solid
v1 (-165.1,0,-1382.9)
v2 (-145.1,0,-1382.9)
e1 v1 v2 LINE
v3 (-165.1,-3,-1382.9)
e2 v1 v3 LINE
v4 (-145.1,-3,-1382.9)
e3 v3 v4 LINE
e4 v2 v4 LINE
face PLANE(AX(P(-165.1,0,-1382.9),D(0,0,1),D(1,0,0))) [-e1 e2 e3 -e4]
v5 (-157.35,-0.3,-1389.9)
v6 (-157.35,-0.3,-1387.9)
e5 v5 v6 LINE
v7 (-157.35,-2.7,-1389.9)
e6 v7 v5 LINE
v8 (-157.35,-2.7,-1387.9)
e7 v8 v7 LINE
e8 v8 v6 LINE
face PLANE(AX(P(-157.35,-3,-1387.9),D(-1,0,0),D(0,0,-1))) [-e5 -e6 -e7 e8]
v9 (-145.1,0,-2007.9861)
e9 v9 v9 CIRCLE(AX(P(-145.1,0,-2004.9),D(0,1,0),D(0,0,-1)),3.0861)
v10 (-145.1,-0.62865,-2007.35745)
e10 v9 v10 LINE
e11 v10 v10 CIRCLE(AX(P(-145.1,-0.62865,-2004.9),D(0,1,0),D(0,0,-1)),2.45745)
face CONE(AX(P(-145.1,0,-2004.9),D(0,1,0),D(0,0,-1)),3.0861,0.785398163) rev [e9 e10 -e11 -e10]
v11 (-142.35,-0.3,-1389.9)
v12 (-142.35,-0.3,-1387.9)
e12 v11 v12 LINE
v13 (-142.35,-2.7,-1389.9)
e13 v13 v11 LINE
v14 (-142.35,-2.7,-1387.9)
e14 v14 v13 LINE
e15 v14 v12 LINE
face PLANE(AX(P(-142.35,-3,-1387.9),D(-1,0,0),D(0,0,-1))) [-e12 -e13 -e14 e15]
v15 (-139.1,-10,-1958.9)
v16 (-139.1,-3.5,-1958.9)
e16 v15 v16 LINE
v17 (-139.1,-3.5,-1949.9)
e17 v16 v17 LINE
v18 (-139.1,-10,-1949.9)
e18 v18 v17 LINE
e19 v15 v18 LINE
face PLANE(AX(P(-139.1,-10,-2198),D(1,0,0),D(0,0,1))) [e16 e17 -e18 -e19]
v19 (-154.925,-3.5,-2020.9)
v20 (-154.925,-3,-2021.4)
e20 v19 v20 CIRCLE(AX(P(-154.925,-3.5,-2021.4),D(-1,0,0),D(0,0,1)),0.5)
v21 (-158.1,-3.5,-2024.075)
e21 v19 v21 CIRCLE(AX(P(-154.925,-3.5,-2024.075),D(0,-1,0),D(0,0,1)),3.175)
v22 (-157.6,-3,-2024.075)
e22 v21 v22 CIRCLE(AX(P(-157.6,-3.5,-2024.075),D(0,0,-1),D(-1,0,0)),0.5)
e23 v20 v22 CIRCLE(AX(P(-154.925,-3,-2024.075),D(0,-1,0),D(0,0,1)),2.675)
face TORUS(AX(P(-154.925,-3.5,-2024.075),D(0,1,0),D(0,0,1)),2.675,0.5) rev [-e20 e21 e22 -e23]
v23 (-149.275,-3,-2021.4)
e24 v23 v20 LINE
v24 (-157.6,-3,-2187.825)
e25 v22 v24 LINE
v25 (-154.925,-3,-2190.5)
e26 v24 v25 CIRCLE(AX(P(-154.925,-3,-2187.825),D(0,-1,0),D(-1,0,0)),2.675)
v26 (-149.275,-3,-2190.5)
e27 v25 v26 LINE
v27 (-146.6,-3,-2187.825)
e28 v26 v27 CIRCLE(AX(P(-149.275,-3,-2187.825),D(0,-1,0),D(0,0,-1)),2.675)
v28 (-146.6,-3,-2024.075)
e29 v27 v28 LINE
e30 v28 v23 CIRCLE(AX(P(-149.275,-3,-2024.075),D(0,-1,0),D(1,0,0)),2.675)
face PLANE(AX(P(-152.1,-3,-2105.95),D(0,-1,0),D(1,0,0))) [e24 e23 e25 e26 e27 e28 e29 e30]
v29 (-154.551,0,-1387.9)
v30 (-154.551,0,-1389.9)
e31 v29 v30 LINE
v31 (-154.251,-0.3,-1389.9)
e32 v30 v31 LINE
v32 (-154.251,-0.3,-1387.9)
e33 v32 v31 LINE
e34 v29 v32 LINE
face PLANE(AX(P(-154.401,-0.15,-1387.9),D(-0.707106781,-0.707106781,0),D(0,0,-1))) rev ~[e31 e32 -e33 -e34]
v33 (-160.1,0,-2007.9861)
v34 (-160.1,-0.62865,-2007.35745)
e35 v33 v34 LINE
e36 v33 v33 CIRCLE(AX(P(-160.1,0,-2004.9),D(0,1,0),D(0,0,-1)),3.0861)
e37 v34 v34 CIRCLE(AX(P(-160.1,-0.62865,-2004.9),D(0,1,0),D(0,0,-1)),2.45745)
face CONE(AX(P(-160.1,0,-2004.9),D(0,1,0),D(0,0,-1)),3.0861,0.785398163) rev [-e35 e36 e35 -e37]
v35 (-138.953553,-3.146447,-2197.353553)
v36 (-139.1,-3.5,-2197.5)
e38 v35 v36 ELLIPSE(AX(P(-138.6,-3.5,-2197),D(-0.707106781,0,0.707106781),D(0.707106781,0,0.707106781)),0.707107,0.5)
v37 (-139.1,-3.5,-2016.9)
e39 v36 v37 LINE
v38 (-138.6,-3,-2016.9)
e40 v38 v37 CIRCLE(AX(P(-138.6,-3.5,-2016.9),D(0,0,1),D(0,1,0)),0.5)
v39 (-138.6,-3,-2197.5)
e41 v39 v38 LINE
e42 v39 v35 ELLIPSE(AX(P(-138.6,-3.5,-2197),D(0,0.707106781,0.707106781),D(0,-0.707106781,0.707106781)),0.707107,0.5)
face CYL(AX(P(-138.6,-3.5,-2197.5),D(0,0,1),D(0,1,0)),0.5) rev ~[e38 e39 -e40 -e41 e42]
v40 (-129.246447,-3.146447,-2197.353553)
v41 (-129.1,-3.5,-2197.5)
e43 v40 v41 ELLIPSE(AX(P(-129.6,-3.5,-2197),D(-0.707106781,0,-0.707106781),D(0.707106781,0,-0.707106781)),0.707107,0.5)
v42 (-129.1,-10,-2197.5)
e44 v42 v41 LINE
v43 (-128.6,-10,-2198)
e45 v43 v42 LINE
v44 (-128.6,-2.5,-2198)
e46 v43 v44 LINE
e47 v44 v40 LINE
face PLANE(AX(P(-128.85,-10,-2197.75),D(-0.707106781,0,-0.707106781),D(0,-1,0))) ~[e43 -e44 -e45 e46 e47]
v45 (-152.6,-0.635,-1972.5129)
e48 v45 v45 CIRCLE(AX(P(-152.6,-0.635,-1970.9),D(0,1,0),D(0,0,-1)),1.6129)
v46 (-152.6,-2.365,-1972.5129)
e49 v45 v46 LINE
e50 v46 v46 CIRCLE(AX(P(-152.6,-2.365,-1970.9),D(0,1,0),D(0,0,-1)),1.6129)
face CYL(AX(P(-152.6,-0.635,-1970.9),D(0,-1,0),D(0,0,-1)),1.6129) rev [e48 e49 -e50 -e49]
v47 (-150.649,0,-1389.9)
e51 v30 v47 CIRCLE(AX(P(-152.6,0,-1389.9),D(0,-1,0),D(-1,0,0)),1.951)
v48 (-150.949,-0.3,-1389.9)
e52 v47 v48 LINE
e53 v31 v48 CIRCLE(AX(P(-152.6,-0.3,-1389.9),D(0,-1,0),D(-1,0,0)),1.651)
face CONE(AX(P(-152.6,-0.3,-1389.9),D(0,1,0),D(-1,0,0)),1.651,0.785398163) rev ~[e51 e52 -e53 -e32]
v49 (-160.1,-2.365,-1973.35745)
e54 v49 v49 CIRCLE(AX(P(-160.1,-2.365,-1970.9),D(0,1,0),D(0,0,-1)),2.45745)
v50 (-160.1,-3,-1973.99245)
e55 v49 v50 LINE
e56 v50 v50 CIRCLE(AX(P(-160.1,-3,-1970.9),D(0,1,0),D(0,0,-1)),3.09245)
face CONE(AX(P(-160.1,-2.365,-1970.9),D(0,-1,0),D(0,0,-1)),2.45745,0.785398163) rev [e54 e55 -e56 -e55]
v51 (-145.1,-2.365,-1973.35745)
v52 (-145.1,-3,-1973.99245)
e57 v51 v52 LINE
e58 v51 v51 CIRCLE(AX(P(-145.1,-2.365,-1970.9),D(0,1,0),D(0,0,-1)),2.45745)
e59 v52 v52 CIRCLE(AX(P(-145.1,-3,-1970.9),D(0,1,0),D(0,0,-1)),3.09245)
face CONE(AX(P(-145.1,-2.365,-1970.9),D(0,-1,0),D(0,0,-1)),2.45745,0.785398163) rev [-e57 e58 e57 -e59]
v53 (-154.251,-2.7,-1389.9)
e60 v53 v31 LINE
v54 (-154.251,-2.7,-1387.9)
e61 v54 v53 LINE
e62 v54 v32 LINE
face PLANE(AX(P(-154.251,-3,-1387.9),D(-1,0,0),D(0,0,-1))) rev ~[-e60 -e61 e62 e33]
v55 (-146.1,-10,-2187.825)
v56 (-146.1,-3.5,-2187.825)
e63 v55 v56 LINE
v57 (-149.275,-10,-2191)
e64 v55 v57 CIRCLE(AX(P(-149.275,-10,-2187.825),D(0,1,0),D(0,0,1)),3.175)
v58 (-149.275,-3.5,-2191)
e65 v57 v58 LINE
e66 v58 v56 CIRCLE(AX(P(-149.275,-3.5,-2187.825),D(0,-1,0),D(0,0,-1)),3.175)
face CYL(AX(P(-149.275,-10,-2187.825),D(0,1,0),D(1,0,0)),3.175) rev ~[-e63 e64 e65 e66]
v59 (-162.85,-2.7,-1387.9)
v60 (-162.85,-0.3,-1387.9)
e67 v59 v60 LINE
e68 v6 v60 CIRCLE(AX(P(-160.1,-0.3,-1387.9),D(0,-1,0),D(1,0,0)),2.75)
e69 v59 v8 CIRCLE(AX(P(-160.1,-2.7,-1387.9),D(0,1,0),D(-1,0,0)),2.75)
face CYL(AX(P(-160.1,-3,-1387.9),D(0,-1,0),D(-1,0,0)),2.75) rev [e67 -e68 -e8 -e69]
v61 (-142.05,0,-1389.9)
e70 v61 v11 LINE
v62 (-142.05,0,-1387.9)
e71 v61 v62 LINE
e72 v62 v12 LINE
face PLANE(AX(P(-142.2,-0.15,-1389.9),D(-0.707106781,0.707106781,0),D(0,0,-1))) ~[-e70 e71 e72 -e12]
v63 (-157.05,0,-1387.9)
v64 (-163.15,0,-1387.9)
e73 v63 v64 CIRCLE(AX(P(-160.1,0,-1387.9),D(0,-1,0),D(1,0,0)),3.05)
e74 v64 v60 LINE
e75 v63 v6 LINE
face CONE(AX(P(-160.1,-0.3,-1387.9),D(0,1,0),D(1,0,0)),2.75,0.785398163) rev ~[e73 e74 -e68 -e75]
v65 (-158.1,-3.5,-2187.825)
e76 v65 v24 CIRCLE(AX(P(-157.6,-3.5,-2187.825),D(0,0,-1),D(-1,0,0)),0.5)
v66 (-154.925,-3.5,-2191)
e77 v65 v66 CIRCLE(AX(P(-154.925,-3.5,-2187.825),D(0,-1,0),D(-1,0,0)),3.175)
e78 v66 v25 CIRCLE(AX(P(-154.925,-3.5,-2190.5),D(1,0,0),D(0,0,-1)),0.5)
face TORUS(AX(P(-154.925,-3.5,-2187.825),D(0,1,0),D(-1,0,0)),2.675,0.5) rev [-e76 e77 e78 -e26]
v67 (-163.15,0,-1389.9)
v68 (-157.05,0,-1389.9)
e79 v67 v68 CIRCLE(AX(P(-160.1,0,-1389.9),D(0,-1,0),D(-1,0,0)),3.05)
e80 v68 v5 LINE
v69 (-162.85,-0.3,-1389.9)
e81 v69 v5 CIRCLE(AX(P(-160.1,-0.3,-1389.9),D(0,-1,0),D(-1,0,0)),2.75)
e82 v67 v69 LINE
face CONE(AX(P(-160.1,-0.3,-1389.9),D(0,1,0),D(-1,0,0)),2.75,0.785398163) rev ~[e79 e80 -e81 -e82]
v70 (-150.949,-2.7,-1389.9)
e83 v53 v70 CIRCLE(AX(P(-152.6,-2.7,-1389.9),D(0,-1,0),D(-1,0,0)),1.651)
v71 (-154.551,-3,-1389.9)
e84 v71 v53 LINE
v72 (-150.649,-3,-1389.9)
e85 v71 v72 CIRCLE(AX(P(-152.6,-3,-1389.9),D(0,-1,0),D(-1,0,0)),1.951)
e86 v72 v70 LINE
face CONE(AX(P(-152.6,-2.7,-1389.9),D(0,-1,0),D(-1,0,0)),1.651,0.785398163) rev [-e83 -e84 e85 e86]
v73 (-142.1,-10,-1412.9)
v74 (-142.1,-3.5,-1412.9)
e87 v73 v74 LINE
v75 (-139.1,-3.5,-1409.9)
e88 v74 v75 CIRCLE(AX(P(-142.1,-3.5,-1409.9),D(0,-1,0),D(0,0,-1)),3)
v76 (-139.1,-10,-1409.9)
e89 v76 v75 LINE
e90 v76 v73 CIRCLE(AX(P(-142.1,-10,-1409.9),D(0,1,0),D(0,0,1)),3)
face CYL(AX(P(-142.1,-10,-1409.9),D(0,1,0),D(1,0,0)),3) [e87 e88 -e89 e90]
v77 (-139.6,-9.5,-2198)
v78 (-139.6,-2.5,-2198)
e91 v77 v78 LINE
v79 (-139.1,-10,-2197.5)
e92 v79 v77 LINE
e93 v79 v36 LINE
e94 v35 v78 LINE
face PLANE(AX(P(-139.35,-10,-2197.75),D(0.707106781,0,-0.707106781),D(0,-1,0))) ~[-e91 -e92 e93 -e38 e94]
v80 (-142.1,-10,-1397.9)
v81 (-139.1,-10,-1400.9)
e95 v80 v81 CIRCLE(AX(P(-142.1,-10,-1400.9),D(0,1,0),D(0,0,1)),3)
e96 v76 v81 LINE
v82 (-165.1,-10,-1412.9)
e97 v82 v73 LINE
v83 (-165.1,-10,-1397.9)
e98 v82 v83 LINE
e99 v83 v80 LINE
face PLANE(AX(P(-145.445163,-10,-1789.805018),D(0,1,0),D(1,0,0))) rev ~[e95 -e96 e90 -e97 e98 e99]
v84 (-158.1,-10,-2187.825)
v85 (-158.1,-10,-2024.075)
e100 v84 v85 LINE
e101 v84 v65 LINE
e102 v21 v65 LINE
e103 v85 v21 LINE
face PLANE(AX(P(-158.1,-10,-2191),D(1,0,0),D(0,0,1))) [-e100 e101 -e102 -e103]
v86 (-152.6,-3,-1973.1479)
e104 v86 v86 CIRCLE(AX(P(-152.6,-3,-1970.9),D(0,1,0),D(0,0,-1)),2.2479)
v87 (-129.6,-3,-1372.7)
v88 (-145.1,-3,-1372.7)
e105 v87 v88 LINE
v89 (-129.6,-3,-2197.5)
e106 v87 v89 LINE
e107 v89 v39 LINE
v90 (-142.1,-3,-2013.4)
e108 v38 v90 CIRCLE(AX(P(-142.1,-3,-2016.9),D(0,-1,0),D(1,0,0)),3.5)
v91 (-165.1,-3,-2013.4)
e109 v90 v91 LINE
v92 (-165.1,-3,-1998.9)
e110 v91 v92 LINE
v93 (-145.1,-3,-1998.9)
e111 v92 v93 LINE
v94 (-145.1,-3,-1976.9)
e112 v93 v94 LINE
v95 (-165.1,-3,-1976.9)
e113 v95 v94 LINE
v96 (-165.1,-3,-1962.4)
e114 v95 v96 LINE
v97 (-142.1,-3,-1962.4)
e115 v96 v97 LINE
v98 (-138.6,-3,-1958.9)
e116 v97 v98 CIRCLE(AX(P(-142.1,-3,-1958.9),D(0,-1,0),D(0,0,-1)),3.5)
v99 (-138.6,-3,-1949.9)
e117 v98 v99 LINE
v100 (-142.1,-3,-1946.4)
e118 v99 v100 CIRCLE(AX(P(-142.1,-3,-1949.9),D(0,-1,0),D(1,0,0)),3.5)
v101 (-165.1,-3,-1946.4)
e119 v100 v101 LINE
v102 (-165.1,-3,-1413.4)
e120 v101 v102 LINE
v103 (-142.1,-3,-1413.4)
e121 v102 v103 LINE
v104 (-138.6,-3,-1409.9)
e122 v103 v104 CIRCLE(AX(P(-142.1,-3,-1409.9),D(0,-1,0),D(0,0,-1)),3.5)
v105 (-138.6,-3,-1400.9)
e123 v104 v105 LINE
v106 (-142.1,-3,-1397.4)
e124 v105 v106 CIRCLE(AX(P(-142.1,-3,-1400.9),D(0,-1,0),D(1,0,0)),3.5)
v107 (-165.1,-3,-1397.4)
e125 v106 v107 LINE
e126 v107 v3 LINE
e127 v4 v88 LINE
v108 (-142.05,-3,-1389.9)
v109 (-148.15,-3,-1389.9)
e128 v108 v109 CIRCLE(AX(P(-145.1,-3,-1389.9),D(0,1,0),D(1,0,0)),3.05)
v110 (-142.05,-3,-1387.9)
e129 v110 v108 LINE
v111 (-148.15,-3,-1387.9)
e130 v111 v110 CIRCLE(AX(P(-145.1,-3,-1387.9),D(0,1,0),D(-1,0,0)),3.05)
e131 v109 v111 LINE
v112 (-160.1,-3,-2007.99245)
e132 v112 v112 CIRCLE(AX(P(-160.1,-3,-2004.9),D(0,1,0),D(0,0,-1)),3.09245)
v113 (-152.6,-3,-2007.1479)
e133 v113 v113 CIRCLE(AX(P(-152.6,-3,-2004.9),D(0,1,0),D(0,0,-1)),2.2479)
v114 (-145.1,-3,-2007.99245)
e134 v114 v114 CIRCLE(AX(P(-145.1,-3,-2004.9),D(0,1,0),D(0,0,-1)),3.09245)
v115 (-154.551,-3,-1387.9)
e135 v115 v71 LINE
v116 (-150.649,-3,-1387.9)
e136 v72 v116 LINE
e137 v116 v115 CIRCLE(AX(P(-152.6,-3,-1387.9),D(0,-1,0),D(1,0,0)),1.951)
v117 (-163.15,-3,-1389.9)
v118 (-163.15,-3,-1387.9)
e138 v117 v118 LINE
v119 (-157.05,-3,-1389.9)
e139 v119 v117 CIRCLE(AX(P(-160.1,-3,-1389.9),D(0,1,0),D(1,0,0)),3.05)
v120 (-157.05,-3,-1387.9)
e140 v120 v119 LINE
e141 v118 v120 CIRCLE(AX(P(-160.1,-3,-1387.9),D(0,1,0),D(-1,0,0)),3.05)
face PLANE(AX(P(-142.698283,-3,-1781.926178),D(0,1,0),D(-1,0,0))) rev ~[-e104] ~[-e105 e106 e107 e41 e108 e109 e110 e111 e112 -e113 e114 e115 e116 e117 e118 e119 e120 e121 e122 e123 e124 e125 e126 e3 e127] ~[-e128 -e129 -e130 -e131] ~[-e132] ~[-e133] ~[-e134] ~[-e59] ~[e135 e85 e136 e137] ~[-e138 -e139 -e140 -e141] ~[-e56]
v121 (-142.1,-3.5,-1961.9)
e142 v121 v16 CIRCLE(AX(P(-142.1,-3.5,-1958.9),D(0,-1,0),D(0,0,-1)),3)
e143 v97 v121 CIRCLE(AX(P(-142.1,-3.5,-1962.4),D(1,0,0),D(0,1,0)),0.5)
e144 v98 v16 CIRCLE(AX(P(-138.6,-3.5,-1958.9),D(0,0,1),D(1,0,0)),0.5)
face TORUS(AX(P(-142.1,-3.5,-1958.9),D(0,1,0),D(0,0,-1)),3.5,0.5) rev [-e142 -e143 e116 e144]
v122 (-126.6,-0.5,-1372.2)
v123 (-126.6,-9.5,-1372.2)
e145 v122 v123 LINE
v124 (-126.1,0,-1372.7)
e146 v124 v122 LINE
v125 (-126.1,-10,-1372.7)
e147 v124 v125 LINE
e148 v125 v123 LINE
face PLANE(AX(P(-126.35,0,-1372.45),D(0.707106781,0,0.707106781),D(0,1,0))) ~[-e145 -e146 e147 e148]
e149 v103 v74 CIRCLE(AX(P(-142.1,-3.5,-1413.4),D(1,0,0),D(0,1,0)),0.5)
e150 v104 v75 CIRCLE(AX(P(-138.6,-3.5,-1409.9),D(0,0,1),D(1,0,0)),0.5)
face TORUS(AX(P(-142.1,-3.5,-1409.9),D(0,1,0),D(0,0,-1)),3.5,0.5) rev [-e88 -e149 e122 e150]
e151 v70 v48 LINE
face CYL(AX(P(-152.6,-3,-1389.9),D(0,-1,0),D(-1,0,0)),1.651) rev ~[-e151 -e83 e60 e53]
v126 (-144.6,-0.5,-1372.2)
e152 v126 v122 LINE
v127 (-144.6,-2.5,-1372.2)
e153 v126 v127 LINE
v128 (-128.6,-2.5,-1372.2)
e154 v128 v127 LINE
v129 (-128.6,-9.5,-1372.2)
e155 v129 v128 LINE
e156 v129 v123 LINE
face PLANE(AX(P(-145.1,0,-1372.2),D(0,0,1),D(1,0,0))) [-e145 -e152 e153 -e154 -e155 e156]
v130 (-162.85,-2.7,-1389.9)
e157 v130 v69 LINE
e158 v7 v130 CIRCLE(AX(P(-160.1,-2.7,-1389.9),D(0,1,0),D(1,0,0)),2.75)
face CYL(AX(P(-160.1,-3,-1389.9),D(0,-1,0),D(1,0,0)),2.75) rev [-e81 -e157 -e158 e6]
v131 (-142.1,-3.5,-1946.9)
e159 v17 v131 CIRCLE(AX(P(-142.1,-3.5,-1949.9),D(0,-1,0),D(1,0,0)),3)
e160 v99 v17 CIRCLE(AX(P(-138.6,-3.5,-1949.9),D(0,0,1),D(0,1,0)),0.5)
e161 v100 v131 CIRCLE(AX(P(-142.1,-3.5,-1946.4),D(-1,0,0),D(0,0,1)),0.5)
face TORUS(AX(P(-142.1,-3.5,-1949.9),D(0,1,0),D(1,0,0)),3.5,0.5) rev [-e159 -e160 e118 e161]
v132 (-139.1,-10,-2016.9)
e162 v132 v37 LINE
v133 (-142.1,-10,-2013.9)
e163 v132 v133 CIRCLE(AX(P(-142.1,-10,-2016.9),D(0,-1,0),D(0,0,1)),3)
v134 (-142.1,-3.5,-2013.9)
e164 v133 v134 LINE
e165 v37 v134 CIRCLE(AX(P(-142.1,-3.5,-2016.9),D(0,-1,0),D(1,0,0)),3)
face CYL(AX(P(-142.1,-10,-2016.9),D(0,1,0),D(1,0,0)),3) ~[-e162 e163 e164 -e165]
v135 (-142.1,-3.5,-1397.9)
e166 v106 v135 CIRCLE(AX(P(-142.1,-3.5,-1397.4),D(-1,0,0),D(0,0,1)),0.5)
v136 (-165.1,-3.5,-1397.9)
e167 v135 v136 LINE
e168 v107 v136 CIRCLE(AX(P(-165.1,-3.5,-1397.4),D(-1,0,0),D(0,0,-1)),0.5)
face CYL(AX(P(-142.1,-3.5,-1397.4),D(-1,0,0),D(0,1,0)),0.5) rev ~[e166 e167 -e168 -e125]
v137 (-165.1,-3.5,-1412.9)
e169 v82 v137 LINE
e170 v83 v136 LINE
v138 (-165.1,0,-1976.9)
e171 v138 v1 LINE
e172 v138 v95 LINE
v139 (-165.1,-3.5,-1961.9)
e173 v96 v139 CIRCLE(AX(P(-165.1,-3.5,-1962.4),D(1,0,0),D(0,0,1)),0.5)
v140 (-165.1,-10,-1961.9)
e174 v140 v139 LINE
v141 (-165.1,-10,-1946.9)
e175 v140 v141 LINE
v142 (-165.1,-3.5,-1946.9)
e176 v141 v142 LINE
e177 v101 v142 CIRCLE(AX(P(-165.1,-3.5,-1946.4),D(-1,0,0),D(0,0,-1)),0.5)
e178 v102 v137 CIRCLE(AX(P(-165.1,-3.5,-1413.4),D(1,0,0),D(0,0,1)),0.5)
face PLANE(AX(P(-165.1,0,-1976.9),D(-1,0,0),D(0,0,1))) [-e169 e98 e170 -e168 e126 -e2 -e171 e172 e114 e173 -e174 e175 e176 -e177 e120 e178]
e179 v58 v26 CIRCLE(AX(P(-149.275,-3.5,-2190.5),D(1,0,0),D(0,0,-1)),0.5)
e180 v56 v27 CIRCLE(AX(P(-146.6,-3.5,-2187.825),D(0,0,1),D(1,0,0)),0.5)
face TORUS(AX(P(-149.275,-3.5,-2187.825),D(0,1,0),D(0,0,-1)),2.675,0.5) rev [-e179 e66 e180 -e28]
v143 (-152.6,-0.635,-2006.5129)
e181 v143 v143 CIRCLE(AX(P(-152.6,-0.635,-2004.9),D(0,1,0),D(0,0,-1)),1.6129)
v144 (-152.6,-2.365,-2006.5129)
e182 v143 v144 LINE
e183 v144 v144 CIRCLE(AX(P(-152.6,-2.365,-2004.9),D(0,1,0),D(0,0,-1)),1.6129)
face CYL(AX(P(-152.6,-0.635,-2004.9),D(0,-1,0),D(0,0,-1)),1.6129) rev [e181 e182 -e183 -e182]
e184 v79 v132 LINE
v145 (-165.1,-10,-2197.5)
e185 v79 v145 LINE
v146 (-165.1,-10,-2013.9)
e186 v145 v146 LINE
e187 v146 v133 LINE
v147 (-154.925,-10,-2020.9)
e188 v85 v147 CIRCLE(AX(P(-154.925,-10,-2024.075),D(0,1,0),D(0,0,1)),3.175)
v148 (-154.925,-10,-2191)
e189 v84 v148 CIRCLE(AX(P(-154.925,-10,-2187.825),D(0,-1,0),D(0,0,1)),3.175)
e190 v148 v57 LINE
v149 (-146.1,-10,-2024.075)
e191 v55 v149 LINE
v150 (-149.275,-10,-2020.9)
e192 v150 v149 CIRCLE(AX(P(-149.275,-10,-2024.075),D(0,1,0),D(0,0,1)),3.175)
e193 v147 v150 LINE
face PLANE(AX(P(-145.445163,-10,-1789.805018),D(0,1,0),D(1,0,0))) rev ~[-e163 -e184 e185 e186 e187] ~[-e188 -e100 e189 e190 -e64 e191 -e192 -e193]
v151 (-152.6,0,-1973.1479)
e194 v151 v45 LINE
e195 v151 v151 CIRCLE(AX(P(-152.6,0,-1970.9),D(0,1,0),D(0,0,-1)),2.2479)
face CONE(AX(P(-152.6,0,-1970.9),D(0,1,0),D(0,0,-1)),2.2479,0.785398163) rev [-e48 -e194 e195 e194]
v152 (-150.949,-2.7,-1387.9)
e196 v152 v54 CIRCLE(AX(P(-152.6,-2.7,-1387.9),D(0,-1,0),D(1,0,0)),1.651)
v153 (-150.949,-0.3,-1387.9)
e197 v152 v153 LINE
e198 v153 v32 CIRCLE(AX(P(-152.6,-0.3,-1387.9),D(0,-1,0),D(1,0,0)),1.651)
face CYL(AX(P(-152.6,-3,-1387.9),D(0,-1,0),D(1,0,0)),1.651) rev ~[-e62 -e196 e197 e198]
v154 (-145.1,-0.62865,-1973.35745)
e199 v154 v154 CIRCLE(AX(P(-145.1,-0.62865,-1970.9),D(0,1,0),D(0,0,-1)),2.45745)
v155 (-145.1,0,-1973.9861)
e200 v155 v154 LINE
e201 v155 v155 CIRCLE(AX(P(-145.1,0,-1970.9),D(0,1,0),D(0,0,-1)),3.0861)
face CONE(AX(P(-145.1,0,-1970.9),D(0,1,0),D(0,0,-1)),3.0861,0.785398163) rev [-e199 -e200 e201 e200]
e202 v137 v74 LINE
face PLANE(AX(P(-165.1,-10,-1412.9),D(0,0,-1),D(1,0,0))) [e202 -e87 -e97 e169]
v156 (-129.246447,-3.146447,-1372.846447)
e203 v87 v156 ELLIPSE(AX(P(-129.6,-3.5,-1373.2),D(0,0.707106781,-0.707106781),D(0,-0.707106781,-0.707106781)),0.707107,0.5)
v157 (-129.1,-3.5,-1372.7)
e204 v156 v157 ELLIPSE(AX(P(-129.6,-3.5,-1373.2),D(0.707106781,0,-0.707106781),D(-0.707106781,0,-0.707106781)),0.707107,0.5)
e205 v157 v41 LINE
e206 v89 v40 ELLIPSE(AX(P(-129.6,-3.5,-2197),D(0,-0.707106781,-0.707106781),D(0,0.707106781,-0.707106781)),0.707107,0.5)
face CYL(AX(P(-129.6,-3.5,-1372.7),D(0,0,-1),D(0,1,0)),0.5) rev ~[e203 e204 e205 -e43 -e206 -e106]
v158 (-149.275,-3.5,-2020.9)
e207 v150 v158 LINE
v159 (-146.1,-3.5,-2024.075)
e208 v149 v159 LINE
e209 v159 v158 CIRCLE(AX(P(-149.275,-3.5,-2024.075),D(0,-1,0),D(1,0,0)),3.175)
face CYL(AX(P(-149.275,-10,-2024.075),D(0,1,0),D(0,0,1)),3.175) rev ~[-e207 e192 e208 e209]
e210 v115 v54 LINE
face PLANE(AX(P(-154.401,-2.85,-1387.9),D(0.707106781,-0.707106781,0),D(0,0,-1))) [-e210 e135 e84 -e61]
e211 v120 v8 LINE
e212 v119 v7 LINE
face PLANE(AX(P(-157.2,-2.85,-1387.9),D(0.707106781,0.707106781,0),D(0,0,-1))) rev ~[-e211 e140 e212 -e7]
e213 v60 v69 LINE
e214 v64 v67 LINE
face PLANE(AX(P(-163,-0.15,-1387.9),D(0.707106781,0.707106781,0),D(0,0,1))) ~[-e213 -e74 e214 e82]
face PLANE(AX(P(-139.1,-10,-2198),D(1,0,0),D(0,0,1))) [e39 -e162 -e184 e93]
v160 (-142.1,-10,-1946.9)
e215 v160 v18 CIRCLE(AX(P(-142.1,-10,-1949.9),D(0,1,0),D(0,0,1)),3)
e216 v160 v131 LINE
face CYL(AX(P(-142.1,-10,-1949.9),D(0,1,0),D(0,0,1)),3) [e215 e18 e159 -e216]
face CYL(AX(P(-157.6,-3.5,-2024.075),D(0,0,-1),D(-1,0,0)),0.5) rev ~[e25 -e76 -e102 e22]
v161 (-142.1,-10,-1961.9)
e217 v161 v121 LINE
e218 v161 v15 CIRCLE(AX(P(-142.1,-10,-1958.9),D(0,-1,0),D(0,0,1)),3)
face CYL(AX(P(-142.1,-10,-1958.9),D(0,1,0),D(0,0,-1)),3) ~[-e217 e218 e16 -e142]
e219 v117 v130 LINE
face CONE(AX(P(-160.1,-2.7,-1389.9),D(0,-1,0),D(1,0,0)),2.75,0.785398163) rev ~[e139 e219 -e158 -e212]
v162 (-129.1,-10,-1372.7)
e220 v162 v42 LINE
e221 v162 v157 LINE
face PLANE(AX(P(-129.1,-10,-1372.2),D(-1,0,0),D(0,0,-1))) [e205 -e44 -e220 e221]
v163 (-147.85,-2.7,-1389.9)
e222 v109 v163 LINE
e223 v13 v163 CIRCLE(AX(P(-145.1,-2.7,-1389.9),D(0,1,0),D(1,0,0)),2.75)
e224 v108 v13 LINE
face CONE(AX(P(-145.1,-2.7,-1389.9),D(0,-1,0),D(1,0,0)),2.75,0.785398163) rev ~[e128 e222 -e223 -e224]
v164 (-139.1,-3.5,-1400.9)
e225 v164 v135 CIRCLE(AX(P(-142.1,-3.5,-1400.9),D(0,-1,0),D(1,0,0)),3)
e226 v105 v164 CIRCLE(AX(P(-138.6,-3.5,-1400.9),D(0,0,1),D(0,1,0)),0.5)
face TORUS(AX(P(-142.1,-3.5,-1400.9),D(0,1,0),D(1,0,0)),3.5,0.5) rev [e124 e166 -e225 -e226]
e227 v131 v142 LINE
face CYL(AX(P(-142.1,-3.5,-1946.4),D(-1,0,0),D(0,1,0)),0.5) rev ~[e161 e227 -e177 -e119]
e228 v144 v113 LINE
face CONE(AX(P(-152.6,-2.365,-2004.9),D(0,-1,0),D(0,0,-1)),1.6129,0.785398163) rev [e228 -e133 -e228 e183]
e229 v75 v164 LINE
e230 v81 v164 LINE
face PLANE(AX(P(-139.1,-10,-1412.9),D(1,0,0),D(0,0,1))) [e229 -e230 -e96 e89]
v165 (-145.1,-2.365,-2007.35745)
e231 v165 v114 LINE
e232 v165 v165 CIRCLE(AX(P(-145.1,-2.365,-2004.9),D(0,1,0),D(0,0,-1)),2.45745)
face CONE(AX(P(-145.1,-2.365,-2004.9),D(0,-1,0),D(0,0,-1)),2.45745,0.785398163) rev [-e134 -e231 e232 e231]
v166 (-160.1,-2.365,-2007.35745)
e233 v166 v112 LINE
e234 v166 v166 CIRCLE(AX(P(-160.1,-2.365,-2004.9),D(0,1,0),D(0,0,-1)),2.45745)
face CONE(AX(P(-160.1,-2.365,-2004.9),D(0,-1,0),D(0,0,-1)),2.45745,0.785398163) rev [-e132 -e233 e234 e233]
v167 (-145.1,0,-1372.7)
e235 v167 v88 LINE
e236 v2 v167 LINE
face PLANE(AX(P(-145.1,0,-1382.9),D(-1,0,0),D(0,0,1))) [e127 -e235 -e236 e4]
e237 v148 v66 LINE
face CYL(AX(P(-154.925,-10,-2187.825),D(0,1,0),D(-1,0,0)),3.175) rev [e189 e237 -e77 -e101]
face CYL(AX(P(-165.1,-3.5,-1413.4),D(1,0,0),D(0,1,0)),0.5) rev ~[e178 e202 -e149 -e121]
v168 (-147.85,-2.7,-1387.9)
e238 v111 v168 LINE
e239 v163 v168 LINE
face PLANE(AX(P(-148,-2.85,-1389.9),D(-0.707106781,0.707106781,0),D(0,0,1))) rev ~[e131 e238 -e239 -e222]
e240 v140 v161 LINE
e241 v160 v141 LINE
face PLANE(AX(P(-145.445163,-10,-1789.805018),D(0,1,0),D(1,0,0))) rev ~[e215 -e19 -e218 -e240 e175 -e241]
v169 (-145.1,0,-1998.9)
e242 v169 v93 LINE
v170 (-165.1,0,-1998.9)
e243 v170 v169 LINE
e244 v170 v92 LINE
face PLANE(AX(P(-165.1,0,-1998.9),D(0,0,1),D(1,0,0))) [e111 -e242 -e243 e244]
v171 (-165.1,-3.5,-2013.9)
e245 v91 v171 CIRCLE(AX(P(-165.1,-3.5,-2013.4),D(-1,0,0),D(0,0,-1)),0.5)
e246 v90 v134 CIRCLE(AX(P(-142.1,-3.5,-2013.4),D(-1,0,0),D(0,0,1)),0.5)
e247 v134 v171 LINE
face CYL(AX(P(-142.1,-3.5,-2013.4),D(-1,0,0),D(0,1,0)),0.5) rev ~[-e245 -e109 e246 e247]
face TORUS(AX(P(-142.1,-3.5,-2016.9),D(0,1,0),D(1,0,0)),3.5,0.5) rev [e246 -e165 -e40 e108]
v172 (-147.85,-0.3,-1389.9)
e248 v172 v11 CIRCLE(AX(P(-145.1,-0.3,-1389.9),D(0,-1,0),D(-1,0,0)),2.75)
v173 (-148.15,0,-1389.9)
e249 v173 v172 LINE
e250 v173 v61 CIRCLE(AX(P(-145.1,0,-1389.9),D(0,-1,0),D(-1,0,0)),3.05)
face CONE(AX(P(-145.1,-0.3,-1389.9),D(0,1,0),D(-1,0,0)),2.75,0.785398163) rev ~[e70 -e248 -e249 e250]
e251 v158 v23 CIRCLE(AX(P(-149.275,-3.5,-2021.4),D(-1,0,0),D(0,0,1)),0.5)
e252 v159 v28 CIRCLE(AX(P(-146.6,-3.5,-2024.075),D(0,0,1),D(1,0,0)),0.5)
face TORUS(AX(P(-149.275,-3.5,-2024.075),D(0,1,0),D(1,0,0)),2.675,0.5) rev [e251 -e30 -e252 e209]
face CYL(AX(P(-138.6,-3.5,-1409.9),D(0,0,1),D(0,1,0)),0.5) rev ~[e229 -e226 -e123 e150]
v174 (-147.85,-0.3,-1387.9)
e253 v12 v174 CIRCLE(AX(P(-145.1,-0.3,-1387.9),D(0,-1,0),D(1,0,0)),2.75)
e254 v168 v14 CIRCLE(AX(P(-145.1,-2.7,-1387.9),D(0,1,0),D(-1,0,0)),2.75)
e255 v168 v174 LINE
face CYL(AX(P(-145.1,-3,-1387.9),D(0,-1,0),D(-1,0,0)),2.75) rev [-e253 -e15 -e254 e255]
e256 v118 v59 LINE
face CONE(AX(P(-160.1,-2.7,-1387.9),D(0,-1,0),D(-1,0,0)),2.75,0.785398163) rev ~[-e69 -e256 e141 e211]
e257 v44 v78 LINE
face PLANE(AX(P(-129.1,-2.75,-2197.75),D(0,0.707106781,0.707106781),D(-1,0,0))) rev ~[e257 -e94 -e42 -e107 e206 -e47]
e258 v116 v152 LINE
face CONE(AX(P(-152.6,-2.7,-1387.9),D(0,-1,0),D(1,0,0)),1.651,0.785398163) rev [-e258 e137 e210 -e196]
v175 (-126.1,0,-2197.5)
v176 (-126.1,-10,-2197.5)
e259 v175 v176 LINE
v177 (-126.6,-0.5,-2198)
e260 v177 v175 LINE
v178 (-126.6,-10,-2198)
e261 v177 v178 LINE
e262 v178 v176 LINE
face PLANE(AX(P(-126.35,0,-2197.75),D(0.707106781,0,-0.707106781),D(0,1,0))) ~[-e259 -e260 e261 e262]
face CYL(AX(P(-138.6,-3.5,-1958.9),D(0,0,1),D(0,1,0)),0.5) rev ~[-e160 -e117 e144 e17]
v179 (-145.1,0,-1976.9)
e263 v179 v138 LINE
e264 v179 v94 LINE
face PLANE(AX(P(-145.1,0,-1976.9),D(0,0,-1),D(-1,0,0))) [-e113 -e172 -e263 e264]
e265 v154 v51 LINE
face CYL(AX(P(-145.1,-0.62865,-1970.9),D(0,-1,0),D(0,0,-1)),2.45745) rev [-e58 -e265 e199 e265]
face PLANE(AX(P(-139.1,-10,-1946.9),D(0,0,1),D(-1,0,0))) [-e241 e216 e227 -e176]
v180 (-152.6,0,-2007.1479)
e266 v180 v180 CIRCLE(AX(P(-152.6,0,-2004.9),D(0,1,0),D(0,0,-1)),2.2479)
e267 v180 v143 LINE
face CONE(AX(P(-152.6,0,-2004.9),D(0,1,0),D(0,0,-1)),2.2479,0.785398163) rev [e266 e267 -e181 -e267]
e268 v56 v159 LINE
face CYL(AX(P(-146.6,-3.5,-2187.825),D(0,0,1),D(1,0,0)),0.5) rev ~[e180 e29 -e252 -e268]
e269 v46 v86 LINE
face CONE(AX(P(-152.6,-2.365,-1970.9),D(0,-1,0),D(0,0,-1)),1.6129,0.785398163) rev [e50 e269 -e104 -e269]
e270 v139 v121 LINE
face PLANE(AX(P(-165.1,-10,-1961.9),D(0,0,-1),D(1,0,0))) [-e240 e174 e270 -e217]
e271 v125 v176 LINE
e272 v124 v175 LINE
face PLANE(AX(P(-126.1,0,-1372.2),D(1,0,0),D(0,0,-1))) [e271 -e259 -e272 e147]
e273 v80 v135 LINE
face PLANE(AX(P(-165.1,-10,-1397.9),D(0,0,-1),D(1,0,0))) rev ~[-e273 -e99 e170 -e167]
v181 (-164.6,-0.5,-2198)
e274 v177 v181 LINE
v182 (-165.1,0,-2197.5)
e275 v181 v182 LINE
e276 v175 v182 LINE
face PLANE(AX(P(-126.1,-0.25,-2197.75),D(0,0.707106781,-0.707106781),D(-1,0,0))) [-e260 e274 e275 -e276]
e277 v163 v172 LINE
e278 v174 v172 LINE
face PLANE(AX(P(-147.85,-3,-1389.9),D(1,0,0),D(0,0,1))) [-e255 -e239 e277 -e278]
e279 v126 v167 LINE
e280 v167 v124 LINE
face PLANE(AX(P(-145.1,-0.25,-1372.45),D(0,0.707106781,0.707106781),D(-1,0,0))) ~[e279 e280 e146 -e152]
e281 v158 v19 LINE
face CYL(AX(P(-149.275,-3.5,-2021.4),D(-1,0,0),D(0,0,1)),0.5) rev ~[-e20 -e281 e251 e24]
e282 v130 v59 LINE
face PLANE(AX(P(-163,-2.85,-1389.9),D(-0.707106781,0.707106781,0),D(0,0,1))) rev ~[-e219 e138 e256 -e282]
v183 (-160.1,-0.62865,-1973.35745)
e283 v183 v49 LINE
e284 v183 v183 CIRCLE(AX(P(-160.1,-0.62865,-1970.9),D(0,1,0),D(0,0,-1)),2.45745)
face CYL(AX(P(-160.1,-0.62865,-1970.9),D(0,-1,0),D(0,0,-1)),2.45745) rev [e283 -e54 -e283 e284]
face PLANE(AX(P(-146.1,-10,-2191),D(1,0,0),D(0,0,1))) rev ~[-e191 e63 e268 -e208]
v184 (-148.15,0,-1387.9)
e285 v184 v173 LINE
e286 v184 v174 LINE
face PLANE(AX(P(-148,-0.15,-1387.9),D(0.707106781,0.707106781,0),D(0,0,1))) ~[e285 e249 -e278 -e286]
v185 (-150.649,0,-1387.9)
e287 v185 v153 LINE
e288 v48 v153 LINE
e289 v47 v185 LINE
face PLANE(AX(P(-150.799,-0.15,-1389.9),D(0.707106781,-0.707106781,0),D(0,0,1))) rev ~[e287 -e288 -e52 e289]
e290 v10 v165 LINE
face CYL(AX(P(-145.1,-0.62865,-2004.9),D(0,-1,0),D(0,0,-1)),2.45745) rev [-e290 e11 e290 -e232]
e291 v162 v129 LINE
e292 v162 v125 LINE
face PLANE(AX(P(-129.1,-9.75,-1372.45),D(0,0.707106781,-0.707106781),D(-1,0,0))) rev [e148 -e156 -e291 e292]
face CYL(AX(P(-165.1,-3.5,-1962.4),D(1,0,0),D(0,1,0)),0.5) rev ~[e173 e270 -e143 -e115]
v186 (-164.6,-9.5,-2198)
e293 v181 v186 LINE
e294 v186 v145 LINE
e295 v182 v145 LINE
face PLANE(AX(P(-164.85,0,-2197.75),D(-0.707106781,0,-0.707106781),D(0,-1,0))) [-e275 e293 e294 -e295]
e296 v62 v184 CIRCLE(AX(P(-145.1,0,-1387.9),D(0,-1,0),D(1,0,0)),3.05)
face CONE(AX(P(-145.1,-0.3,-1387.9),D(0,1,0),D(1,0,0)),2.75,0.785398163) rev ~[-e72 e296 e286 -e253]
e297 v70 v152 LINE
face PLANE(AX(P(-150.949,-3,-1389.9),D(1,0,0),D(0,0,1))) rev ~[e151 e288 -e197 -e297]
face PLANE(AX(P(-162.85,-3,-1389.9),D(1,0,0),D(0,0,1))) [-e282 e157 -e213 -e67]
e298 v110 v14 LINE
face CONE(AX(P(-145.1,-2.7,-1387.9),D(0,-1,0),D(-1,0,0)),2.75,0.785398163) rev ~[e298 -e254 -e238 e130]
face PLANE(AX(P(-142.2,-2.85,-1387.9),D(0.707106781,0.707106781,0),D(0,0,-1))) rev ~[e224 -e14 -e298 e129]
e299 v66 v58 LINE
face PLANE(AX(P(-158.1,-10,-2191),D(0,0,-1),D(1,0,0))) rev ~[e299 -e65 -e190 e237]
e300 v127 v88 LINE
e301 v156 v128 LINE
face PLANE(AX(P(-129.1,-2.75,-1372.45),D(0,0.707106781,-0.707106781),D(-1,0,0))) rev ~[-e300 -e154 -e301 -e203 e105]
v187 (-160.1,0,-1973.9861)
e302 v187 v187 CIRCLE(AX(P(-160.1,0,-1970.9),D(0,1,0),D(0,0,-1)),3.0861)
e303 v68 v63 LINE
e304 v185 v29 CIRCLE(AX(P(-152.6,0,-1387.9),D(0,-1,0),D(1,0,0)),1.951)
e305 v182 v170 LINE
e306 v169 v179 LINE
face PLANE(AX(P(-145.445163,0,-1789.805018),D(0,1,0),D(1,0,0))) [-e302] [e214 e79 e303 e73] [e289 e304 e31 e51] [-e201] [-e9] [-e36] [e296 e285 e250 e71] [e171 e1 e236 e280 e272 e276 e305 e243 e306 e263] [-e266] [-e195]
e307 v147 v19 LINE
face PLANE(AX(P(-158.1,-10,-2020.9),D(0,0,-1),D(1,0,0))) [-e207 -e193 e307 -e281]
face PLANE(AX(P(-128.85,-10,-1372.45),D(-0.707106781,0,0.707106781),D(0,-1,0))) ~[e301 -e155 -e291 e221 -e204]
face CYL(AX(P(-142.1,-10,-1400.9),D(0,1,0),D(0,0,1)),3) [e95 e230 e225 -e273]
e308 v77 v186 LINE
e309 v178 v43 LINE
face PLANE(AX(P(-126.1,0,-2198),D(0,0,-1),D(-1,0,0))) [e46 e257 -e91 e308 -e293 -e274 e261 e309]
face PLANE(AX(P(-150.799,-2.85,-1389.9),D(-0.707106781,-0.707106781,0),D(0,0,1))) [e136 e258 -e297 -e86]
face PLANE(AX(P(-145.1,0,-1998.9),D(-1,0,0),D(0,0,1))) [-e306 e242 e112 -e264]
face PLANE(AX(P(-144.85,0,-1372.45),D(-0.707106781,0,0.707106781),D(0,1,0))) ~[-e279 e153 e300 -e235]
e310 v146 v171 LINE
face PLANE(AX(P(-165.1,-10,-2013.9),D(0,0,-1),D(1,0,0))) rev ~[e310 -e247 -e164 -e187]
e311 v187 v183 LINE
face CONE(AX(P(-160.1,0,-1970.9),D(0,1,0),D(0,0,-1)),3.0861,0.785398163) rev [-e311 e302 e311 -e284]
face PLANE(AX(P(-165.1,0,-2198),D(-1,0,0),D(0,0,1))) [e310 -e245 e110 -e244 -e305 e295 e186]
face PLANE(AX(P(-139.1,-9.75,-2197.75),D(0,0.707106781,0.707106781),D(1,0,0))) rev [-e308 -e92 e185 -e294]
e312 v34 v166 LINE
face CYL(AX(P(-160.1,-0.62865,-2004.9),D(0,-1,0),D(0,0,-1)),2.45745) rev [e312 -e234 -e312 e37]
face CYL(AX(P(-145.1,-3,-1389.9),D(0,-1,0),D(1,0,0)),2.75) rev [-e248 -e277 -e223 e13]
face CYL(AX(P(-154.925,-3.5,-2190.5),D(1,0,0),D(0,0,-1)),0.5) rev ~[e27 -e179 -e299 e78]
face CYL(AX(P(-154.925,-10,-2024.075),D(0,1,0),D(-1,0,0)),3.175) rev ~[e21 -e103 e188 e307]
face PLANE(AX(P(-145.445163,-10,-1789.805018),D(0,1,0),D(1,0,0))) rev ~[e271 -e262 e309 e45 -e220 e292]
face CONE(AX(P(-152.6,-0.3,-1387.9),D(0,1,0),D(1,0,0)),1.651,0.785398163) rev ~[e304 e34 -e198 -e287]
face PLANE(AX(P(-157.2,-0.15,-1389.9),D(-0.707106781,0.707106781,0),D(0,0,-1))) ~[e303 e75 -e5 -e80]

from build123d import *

# Parameters (mm, degrees)
EXTRUDE1_DEPTH                 = 10
EXTRUDE2_DEPTH                 = 7
SKETCH5_W                      = 26
SKETCH5_H                      = 15
EXTRUDE3_DEPTH                 = 7
SKETCH16_W                     = 6
SKETCH16_H                     = 22
SKETCH16_H_2                   = 10.7
EXTRUDE8_DEPTH                 = 7
F_8_CLEARANCE_HOLE1_AT_2_COUNT = 2
F_8_CLEARANCE_HOLE1_AT_2_PITCH = 15
F_8_CLEARANCE_HOLE2_AT_2_COUNT = 2
F_8_CLEARANCE_HOLE2_AT_2_PITCH = 15
EXTRUDE6_DEPTH                 = 4
SKETCH15_W                     = 12
SKETCH15_H                     = 170.1
EXTRUDE7_DEPTH                 = 7
FILLET1_R                      = 3.175
CHAMFER1_SIZE                  = 0.5
CHAMFER2_SIZE                  = 0.3
FILLET4_R                      = 3
FILLET3_R                      = 0.5


with BuildPart() as part:
    # Sketch1 → Extrude1 (new body)
    with BuildSketch(Plane(origin=(0, 0, 0), x_dir=(1, 0, 0), z_dir=(0, 1, 0))):
        Polygon((-126.1, 2198), (-165.1, 2198), (-165.1, 1998.9), (-145.1, 1998.9), (-145.1, 1988.2), (-145.1, 1987.6), (-145.1, 1976.9), (-165.1, 1976.9), (-165.1, 1382.9), (-145.1, 1382.9), (-145.1, 1372.2), (-126.1, 1372.2), align=None)
    extrude(amount=-EXTRUDE1_DEPTH)

    # Sketch4 → Extrude2 (cut)
    with BuildSketch(Plane.XZ.offset(10)):
        Polygon((-139.1, -1372.2), (-129.1, -1372.2), (-129.1, -2198), (-139.1, -2198), (-139.1, -1946.9), (-165.1, -1946.9), (-165.1, -1412.9), (-139.1, -1412.9), align=None)
    extrude(amount=-EXTRUDE2_DEPTH, mode=Mode.SUBTRACT)

    # Sketch5 → Extrude3 (cut)
    with BuildSketch(Plane.XZ.offset(10)):
        with Locations((-152.1, -1390.4)):
            Rectangle(SKETCH5_W, SKETCH5_H)
        with Locations((-152.1, -2006.4)):
            Rectangle(SKETCH5_W, SKETCH5_H)
        with Locations((-152.1, -1969.4)):
            Rectangle(SKETCH5_W, SKETCH5_H)
    extrude(amount=-EXTRUDE3_DEPTH, mode=Mode.SUBTRACT)

    # Sketch16 → Extrude8 (cut)
    with BuildSketch(Plane.XZ.offset(10)):
        with Locations((-142.1, -1987.9)):
            Rectangle(SKETCH16_W, SKETCH16_H)
        with Locations((-142.1, -1377.55)):
            Rectangle(SKETCH16_W, SKETCH16_H_2)
    extrude(amount=-EXTRUDE8_DEPTH, mode=Mode.SUBTRACT)

    # Sketch9 → 1/8 (0.125) Diameter Hole1 (revolve, cut)
    with BuildSketch(Plane(origin=(-152.6, -3, -2004.9), x_dir=(0, 0, -1), z_dir=(1, 0, 0))):
        Polygon((0, 0), (0, 3), (2.2479, 3), (1.6129, 2.365), (1.6129, 0.635), (2.2479, 0), align=None)
    revolve(axis=Axis((-152.6, -9.35, -2004.9), (0, 1, 0)), mode=Mode.SUBTRACT)

    # Sketch17 → 1/8 (0.125) Diameter Hole2 (revolve, cut)
    with BuildSketch(Plane(origin=(-152.6, -3, -1970.9), x_dir=(0, 0, -1), z_dir=(1, 0, 0))):
        Polygon((0, 0), (0, 3), (2.2479, 3), (1.6129, 2.365), (1.6129, 0.635), (2.2479, 0), align=None)
    revolve(axis=Axis((-152.6, -9.35, -1970.9), (0, 1, 0)), mode=Mode.SUBTRACT)

    # Sketch10 → #8 Clearance Hole1 (revolve, cut)
    with BuildSketch(Plane(origin=(-160.1, -3, -1970.9), x_dir=(0, 0, -1), z_dir=(1, 0, 0))):
        Polygon((0, 0), (0, 3), (3.0861, 3), (2.45745, 2.37135), (2.45745, 0.635), (3.09245, 0), align=None)
    f_8_clearance_hole1 = revolve(axis=Axis((-160.1, -9.35, -1970.9), (0, 1, 0)), mode=Mode.SUBTRACT)

    # #8 Clearance Hole1 at 2: #8 Clearance Hole1 ×2
    with Locations(*[(i * F_8_CLEARANCE_HOLE1_AT_2_PITCH, 0, 0) for i in range(1, F_8_CLEARANCE_HOLE1_AT_2_COUNT)]):
        add(f_8_clearance_hole1, mode=Mode.SUBTRACT)

    # Sketch14 → #8 Clearance Hole2 (revolve, cut)
    with BuildSketch(Plane(origin=(-160.1, -3, -2004.9), x_dir=(0, 0, -1), z_dir=(1, 0, 0))):
        Polygon((0, 0), (0, 3), (3.0861, 3), (2.45745, 2.37135), (2.45745, 0.635), (3.09245, 0), align=None)
    f_8_clearance_hole2 = revolve(axis=Axis((-160.1, -9.35, -2004.9), (0, 1, 0)), mode=Mode.SUBTRACT)

    # #8 Clearance Hole2 at 2: #8 Clearance Hole2 ×2
    with Locations(*[(i * F_8_CLEARANCE_HOLE2_AT_2_PITCH, 0, 0) for i in range(1, F_8_CLEARANCE_HOLE2_AT_2_COUNT)]):
        add(f_8_clearance_hole2, mode=Mode.SUBTRACT)

    # Sketch12 → Extrude6 (cut, through all)
    with BuildSketch(Plane.XZ.offset(3)):
        with BuildLine():
            Line((-154.251, -1387.9), (-154.251, -1389.9))
            ThreePointArc((-154.251, -1389.9), (-152.6, -1391.551), (-150.949, -1389.9))
            Line((-150.949, -1389.9), (-150.949, -1387.9))
            ThreePointArc((-150.949, -1387.9), (-152.6, -1386.249), (-154.251, -1387.9))
        make_face()
        with BuildLine():
            Line((-162.85, -1389.9), (-162.85, -1387.9))
            ThreePointArc((-162.85, -1387.9), (-160.1, -1385.15), (-157.35, -1387.9))
            Line((-157.35, -1387.9), (-157.35, -1389.9))
            ThreePointArc((-157.35, -1389.9), (-160.1, -1392.65), (-162.85, -1389.9))
        make_face()
        with BuildLine():
            Line((-147.85, -1389.9), (-147.85, -1387.9))
            ThreePointArc((-147.85, -1387.9), (-145.1, -1385.15), (-142.35, -1387.9))
            Line((-142.35, -1387.9), (-142.35, -1389.9))
            ThreePointArc((-142.35, -1389.9), (-145.1, -1392.65), (-147.85, -1389.9))
        make_face()
    extrude(amount=-EXTRUDE6_DEPTH, mode=Mode.SUBTRACT)

    # Sketch15 → Extrude7 (cut)
    with BuildSketch(Plane.XZ.offset(10)):
        with Locations((-152.1, -2105.95)):
            Rectangle(SKETCH15_W, SKETCH15_H)
    extrude(amount=-EXTRUDE7_DEPTH, mode=Mode.SUBTRACT)

    # Fillet1
    fillet1_edges = [part.edges().sort_by_distance(p)[0] for p in [
        (-146.1, -6.5, -2020.9),
        (-158.1, -6.5, -2020.9),
        (-158.1, -6.5, -2191),
        (-146.1, -6.5, -2191),
    ]]
    fillet(fillet1_edges, radius=FILLET1_R)

    # Chamfer1
    chamfer1_edges = [part.edges().sort_by_distance(p)[0] for p in [
        (-129.1, -6.5, -2198),
        (-126.1, -5, -2198),
        (-139.1, -6.5, -2198),
        (-134.1, -3, -2198),
        (-145.6, 0, -2198),
        (-165.1, -5, -2198),
        (-152.1, -10, -2198),
        (-145.1, -1.5, -1372.2),
        (-137.1, -3, -1372.2),
        (-135.6, 0, -1372.2),
        (-126.1, -5, -1372.2),
        (-127.6, -10, -1372.2),
        (-129.1, -6.5, -1372.2),
    ]]
    chamfer(chamfer1_edges, length=CHAMFER1_SIZE)

    # Chamfer2
    chamfer2_edges = [part.edges().sort_by_distance(p)[0] for p in [
        (-152.6, 0, -1386.249),
        (-150.949, 0, -1388.9),
        (-152.6, 0, -1391.551),
        (-154.251, 0, -1388.9),
        (-152.6, -3, -1386.249),
        (-154.251, -3, -1388.9),
        (-152.6, -3, -1391.551),
        (-150.949, -3, -1388.9),
        (-160.1, 0, -1385.15),
        (-157.35, 0, -1388.9),
        (-160.1, 0, -1392.65),
        (-162.85, 0, -1388.9),
        (-160.1, -3, -1385.15),
        (-162.85, -3, -1388.9),
        (-160.1, -3, -1392.65),
        (-157.35, -3, -1388.9),
        (-145.1, 0, -1385.15),
        (-142.35, 0, -1388.9),
        (-145.1, 0, -1392.65),
        (-147.85, 0, -1388.9),
        (-145.1, -3, -1385.15),
        (-147.85, -3, -1388.9),
        (-145.1, -3, -1392.65),
        (-142.35, -3, -1388.9),
    ]]
    chamfer(chamfer2_edges, length=CHAMFER2_SIZE)

    # Fillet4
    fillet4_edges = [part.edges().sort_by_distance(p)[0] for p in [
        (-139.1, -6.5, -1412.9),
        (-139.1, -6.5, -1946.9),
        (-139.1, -6.5, -1397.9),
        (-139.1, -6.5, -2013.9),
        (-139.1, -6.5, -1961.9),
    ]]
    fillet(fillet4_edges, radius=FILLET4_R)

    # Fillet3
    fillet3_edges = [part.edges().sort_by_distance(p)[0] for p in [
        (-146.1, -3, -2105.95),
        (-152.1, -3, -2191),
        (-152.1, -3, -2020.9),
        (-158.1, -3, -2105.95),
        (-147.02993597, -3, -2021.82993597),
        (-157.17006403, -3, -2021.82993597),
        (-157.17006403, -3, -2190.07006403),
        (-147.02993597, -3, -2190.07006403),
        (-129.1, -3, -1785.1),
        (-139.1, -3, -2107.2),
        (-153.6, -3, -1961.9),
        (-139.1, -3, -1954.4),
        (-153.6, -3, -1412.9),
        (-139.1, -3, -1405.4),
        (-139.978679656, -3, -2014.778679656),
        (-139.978679656, -3, -1961.021320344),
        (-139.978679656, -3, -1947.778679656),
        (-139.978679656, -3, -1412.021320344),
        (-139.978679656, -3, -1398.778679656),
        (-153.6, -3, -1946.9),
        (-153.6, -3, -1397.9),
        (-153.6, -3, -2013.9),
    ]]
    fillet(fillet3_edges, radius=FILLET3_R)


solid = part.part
